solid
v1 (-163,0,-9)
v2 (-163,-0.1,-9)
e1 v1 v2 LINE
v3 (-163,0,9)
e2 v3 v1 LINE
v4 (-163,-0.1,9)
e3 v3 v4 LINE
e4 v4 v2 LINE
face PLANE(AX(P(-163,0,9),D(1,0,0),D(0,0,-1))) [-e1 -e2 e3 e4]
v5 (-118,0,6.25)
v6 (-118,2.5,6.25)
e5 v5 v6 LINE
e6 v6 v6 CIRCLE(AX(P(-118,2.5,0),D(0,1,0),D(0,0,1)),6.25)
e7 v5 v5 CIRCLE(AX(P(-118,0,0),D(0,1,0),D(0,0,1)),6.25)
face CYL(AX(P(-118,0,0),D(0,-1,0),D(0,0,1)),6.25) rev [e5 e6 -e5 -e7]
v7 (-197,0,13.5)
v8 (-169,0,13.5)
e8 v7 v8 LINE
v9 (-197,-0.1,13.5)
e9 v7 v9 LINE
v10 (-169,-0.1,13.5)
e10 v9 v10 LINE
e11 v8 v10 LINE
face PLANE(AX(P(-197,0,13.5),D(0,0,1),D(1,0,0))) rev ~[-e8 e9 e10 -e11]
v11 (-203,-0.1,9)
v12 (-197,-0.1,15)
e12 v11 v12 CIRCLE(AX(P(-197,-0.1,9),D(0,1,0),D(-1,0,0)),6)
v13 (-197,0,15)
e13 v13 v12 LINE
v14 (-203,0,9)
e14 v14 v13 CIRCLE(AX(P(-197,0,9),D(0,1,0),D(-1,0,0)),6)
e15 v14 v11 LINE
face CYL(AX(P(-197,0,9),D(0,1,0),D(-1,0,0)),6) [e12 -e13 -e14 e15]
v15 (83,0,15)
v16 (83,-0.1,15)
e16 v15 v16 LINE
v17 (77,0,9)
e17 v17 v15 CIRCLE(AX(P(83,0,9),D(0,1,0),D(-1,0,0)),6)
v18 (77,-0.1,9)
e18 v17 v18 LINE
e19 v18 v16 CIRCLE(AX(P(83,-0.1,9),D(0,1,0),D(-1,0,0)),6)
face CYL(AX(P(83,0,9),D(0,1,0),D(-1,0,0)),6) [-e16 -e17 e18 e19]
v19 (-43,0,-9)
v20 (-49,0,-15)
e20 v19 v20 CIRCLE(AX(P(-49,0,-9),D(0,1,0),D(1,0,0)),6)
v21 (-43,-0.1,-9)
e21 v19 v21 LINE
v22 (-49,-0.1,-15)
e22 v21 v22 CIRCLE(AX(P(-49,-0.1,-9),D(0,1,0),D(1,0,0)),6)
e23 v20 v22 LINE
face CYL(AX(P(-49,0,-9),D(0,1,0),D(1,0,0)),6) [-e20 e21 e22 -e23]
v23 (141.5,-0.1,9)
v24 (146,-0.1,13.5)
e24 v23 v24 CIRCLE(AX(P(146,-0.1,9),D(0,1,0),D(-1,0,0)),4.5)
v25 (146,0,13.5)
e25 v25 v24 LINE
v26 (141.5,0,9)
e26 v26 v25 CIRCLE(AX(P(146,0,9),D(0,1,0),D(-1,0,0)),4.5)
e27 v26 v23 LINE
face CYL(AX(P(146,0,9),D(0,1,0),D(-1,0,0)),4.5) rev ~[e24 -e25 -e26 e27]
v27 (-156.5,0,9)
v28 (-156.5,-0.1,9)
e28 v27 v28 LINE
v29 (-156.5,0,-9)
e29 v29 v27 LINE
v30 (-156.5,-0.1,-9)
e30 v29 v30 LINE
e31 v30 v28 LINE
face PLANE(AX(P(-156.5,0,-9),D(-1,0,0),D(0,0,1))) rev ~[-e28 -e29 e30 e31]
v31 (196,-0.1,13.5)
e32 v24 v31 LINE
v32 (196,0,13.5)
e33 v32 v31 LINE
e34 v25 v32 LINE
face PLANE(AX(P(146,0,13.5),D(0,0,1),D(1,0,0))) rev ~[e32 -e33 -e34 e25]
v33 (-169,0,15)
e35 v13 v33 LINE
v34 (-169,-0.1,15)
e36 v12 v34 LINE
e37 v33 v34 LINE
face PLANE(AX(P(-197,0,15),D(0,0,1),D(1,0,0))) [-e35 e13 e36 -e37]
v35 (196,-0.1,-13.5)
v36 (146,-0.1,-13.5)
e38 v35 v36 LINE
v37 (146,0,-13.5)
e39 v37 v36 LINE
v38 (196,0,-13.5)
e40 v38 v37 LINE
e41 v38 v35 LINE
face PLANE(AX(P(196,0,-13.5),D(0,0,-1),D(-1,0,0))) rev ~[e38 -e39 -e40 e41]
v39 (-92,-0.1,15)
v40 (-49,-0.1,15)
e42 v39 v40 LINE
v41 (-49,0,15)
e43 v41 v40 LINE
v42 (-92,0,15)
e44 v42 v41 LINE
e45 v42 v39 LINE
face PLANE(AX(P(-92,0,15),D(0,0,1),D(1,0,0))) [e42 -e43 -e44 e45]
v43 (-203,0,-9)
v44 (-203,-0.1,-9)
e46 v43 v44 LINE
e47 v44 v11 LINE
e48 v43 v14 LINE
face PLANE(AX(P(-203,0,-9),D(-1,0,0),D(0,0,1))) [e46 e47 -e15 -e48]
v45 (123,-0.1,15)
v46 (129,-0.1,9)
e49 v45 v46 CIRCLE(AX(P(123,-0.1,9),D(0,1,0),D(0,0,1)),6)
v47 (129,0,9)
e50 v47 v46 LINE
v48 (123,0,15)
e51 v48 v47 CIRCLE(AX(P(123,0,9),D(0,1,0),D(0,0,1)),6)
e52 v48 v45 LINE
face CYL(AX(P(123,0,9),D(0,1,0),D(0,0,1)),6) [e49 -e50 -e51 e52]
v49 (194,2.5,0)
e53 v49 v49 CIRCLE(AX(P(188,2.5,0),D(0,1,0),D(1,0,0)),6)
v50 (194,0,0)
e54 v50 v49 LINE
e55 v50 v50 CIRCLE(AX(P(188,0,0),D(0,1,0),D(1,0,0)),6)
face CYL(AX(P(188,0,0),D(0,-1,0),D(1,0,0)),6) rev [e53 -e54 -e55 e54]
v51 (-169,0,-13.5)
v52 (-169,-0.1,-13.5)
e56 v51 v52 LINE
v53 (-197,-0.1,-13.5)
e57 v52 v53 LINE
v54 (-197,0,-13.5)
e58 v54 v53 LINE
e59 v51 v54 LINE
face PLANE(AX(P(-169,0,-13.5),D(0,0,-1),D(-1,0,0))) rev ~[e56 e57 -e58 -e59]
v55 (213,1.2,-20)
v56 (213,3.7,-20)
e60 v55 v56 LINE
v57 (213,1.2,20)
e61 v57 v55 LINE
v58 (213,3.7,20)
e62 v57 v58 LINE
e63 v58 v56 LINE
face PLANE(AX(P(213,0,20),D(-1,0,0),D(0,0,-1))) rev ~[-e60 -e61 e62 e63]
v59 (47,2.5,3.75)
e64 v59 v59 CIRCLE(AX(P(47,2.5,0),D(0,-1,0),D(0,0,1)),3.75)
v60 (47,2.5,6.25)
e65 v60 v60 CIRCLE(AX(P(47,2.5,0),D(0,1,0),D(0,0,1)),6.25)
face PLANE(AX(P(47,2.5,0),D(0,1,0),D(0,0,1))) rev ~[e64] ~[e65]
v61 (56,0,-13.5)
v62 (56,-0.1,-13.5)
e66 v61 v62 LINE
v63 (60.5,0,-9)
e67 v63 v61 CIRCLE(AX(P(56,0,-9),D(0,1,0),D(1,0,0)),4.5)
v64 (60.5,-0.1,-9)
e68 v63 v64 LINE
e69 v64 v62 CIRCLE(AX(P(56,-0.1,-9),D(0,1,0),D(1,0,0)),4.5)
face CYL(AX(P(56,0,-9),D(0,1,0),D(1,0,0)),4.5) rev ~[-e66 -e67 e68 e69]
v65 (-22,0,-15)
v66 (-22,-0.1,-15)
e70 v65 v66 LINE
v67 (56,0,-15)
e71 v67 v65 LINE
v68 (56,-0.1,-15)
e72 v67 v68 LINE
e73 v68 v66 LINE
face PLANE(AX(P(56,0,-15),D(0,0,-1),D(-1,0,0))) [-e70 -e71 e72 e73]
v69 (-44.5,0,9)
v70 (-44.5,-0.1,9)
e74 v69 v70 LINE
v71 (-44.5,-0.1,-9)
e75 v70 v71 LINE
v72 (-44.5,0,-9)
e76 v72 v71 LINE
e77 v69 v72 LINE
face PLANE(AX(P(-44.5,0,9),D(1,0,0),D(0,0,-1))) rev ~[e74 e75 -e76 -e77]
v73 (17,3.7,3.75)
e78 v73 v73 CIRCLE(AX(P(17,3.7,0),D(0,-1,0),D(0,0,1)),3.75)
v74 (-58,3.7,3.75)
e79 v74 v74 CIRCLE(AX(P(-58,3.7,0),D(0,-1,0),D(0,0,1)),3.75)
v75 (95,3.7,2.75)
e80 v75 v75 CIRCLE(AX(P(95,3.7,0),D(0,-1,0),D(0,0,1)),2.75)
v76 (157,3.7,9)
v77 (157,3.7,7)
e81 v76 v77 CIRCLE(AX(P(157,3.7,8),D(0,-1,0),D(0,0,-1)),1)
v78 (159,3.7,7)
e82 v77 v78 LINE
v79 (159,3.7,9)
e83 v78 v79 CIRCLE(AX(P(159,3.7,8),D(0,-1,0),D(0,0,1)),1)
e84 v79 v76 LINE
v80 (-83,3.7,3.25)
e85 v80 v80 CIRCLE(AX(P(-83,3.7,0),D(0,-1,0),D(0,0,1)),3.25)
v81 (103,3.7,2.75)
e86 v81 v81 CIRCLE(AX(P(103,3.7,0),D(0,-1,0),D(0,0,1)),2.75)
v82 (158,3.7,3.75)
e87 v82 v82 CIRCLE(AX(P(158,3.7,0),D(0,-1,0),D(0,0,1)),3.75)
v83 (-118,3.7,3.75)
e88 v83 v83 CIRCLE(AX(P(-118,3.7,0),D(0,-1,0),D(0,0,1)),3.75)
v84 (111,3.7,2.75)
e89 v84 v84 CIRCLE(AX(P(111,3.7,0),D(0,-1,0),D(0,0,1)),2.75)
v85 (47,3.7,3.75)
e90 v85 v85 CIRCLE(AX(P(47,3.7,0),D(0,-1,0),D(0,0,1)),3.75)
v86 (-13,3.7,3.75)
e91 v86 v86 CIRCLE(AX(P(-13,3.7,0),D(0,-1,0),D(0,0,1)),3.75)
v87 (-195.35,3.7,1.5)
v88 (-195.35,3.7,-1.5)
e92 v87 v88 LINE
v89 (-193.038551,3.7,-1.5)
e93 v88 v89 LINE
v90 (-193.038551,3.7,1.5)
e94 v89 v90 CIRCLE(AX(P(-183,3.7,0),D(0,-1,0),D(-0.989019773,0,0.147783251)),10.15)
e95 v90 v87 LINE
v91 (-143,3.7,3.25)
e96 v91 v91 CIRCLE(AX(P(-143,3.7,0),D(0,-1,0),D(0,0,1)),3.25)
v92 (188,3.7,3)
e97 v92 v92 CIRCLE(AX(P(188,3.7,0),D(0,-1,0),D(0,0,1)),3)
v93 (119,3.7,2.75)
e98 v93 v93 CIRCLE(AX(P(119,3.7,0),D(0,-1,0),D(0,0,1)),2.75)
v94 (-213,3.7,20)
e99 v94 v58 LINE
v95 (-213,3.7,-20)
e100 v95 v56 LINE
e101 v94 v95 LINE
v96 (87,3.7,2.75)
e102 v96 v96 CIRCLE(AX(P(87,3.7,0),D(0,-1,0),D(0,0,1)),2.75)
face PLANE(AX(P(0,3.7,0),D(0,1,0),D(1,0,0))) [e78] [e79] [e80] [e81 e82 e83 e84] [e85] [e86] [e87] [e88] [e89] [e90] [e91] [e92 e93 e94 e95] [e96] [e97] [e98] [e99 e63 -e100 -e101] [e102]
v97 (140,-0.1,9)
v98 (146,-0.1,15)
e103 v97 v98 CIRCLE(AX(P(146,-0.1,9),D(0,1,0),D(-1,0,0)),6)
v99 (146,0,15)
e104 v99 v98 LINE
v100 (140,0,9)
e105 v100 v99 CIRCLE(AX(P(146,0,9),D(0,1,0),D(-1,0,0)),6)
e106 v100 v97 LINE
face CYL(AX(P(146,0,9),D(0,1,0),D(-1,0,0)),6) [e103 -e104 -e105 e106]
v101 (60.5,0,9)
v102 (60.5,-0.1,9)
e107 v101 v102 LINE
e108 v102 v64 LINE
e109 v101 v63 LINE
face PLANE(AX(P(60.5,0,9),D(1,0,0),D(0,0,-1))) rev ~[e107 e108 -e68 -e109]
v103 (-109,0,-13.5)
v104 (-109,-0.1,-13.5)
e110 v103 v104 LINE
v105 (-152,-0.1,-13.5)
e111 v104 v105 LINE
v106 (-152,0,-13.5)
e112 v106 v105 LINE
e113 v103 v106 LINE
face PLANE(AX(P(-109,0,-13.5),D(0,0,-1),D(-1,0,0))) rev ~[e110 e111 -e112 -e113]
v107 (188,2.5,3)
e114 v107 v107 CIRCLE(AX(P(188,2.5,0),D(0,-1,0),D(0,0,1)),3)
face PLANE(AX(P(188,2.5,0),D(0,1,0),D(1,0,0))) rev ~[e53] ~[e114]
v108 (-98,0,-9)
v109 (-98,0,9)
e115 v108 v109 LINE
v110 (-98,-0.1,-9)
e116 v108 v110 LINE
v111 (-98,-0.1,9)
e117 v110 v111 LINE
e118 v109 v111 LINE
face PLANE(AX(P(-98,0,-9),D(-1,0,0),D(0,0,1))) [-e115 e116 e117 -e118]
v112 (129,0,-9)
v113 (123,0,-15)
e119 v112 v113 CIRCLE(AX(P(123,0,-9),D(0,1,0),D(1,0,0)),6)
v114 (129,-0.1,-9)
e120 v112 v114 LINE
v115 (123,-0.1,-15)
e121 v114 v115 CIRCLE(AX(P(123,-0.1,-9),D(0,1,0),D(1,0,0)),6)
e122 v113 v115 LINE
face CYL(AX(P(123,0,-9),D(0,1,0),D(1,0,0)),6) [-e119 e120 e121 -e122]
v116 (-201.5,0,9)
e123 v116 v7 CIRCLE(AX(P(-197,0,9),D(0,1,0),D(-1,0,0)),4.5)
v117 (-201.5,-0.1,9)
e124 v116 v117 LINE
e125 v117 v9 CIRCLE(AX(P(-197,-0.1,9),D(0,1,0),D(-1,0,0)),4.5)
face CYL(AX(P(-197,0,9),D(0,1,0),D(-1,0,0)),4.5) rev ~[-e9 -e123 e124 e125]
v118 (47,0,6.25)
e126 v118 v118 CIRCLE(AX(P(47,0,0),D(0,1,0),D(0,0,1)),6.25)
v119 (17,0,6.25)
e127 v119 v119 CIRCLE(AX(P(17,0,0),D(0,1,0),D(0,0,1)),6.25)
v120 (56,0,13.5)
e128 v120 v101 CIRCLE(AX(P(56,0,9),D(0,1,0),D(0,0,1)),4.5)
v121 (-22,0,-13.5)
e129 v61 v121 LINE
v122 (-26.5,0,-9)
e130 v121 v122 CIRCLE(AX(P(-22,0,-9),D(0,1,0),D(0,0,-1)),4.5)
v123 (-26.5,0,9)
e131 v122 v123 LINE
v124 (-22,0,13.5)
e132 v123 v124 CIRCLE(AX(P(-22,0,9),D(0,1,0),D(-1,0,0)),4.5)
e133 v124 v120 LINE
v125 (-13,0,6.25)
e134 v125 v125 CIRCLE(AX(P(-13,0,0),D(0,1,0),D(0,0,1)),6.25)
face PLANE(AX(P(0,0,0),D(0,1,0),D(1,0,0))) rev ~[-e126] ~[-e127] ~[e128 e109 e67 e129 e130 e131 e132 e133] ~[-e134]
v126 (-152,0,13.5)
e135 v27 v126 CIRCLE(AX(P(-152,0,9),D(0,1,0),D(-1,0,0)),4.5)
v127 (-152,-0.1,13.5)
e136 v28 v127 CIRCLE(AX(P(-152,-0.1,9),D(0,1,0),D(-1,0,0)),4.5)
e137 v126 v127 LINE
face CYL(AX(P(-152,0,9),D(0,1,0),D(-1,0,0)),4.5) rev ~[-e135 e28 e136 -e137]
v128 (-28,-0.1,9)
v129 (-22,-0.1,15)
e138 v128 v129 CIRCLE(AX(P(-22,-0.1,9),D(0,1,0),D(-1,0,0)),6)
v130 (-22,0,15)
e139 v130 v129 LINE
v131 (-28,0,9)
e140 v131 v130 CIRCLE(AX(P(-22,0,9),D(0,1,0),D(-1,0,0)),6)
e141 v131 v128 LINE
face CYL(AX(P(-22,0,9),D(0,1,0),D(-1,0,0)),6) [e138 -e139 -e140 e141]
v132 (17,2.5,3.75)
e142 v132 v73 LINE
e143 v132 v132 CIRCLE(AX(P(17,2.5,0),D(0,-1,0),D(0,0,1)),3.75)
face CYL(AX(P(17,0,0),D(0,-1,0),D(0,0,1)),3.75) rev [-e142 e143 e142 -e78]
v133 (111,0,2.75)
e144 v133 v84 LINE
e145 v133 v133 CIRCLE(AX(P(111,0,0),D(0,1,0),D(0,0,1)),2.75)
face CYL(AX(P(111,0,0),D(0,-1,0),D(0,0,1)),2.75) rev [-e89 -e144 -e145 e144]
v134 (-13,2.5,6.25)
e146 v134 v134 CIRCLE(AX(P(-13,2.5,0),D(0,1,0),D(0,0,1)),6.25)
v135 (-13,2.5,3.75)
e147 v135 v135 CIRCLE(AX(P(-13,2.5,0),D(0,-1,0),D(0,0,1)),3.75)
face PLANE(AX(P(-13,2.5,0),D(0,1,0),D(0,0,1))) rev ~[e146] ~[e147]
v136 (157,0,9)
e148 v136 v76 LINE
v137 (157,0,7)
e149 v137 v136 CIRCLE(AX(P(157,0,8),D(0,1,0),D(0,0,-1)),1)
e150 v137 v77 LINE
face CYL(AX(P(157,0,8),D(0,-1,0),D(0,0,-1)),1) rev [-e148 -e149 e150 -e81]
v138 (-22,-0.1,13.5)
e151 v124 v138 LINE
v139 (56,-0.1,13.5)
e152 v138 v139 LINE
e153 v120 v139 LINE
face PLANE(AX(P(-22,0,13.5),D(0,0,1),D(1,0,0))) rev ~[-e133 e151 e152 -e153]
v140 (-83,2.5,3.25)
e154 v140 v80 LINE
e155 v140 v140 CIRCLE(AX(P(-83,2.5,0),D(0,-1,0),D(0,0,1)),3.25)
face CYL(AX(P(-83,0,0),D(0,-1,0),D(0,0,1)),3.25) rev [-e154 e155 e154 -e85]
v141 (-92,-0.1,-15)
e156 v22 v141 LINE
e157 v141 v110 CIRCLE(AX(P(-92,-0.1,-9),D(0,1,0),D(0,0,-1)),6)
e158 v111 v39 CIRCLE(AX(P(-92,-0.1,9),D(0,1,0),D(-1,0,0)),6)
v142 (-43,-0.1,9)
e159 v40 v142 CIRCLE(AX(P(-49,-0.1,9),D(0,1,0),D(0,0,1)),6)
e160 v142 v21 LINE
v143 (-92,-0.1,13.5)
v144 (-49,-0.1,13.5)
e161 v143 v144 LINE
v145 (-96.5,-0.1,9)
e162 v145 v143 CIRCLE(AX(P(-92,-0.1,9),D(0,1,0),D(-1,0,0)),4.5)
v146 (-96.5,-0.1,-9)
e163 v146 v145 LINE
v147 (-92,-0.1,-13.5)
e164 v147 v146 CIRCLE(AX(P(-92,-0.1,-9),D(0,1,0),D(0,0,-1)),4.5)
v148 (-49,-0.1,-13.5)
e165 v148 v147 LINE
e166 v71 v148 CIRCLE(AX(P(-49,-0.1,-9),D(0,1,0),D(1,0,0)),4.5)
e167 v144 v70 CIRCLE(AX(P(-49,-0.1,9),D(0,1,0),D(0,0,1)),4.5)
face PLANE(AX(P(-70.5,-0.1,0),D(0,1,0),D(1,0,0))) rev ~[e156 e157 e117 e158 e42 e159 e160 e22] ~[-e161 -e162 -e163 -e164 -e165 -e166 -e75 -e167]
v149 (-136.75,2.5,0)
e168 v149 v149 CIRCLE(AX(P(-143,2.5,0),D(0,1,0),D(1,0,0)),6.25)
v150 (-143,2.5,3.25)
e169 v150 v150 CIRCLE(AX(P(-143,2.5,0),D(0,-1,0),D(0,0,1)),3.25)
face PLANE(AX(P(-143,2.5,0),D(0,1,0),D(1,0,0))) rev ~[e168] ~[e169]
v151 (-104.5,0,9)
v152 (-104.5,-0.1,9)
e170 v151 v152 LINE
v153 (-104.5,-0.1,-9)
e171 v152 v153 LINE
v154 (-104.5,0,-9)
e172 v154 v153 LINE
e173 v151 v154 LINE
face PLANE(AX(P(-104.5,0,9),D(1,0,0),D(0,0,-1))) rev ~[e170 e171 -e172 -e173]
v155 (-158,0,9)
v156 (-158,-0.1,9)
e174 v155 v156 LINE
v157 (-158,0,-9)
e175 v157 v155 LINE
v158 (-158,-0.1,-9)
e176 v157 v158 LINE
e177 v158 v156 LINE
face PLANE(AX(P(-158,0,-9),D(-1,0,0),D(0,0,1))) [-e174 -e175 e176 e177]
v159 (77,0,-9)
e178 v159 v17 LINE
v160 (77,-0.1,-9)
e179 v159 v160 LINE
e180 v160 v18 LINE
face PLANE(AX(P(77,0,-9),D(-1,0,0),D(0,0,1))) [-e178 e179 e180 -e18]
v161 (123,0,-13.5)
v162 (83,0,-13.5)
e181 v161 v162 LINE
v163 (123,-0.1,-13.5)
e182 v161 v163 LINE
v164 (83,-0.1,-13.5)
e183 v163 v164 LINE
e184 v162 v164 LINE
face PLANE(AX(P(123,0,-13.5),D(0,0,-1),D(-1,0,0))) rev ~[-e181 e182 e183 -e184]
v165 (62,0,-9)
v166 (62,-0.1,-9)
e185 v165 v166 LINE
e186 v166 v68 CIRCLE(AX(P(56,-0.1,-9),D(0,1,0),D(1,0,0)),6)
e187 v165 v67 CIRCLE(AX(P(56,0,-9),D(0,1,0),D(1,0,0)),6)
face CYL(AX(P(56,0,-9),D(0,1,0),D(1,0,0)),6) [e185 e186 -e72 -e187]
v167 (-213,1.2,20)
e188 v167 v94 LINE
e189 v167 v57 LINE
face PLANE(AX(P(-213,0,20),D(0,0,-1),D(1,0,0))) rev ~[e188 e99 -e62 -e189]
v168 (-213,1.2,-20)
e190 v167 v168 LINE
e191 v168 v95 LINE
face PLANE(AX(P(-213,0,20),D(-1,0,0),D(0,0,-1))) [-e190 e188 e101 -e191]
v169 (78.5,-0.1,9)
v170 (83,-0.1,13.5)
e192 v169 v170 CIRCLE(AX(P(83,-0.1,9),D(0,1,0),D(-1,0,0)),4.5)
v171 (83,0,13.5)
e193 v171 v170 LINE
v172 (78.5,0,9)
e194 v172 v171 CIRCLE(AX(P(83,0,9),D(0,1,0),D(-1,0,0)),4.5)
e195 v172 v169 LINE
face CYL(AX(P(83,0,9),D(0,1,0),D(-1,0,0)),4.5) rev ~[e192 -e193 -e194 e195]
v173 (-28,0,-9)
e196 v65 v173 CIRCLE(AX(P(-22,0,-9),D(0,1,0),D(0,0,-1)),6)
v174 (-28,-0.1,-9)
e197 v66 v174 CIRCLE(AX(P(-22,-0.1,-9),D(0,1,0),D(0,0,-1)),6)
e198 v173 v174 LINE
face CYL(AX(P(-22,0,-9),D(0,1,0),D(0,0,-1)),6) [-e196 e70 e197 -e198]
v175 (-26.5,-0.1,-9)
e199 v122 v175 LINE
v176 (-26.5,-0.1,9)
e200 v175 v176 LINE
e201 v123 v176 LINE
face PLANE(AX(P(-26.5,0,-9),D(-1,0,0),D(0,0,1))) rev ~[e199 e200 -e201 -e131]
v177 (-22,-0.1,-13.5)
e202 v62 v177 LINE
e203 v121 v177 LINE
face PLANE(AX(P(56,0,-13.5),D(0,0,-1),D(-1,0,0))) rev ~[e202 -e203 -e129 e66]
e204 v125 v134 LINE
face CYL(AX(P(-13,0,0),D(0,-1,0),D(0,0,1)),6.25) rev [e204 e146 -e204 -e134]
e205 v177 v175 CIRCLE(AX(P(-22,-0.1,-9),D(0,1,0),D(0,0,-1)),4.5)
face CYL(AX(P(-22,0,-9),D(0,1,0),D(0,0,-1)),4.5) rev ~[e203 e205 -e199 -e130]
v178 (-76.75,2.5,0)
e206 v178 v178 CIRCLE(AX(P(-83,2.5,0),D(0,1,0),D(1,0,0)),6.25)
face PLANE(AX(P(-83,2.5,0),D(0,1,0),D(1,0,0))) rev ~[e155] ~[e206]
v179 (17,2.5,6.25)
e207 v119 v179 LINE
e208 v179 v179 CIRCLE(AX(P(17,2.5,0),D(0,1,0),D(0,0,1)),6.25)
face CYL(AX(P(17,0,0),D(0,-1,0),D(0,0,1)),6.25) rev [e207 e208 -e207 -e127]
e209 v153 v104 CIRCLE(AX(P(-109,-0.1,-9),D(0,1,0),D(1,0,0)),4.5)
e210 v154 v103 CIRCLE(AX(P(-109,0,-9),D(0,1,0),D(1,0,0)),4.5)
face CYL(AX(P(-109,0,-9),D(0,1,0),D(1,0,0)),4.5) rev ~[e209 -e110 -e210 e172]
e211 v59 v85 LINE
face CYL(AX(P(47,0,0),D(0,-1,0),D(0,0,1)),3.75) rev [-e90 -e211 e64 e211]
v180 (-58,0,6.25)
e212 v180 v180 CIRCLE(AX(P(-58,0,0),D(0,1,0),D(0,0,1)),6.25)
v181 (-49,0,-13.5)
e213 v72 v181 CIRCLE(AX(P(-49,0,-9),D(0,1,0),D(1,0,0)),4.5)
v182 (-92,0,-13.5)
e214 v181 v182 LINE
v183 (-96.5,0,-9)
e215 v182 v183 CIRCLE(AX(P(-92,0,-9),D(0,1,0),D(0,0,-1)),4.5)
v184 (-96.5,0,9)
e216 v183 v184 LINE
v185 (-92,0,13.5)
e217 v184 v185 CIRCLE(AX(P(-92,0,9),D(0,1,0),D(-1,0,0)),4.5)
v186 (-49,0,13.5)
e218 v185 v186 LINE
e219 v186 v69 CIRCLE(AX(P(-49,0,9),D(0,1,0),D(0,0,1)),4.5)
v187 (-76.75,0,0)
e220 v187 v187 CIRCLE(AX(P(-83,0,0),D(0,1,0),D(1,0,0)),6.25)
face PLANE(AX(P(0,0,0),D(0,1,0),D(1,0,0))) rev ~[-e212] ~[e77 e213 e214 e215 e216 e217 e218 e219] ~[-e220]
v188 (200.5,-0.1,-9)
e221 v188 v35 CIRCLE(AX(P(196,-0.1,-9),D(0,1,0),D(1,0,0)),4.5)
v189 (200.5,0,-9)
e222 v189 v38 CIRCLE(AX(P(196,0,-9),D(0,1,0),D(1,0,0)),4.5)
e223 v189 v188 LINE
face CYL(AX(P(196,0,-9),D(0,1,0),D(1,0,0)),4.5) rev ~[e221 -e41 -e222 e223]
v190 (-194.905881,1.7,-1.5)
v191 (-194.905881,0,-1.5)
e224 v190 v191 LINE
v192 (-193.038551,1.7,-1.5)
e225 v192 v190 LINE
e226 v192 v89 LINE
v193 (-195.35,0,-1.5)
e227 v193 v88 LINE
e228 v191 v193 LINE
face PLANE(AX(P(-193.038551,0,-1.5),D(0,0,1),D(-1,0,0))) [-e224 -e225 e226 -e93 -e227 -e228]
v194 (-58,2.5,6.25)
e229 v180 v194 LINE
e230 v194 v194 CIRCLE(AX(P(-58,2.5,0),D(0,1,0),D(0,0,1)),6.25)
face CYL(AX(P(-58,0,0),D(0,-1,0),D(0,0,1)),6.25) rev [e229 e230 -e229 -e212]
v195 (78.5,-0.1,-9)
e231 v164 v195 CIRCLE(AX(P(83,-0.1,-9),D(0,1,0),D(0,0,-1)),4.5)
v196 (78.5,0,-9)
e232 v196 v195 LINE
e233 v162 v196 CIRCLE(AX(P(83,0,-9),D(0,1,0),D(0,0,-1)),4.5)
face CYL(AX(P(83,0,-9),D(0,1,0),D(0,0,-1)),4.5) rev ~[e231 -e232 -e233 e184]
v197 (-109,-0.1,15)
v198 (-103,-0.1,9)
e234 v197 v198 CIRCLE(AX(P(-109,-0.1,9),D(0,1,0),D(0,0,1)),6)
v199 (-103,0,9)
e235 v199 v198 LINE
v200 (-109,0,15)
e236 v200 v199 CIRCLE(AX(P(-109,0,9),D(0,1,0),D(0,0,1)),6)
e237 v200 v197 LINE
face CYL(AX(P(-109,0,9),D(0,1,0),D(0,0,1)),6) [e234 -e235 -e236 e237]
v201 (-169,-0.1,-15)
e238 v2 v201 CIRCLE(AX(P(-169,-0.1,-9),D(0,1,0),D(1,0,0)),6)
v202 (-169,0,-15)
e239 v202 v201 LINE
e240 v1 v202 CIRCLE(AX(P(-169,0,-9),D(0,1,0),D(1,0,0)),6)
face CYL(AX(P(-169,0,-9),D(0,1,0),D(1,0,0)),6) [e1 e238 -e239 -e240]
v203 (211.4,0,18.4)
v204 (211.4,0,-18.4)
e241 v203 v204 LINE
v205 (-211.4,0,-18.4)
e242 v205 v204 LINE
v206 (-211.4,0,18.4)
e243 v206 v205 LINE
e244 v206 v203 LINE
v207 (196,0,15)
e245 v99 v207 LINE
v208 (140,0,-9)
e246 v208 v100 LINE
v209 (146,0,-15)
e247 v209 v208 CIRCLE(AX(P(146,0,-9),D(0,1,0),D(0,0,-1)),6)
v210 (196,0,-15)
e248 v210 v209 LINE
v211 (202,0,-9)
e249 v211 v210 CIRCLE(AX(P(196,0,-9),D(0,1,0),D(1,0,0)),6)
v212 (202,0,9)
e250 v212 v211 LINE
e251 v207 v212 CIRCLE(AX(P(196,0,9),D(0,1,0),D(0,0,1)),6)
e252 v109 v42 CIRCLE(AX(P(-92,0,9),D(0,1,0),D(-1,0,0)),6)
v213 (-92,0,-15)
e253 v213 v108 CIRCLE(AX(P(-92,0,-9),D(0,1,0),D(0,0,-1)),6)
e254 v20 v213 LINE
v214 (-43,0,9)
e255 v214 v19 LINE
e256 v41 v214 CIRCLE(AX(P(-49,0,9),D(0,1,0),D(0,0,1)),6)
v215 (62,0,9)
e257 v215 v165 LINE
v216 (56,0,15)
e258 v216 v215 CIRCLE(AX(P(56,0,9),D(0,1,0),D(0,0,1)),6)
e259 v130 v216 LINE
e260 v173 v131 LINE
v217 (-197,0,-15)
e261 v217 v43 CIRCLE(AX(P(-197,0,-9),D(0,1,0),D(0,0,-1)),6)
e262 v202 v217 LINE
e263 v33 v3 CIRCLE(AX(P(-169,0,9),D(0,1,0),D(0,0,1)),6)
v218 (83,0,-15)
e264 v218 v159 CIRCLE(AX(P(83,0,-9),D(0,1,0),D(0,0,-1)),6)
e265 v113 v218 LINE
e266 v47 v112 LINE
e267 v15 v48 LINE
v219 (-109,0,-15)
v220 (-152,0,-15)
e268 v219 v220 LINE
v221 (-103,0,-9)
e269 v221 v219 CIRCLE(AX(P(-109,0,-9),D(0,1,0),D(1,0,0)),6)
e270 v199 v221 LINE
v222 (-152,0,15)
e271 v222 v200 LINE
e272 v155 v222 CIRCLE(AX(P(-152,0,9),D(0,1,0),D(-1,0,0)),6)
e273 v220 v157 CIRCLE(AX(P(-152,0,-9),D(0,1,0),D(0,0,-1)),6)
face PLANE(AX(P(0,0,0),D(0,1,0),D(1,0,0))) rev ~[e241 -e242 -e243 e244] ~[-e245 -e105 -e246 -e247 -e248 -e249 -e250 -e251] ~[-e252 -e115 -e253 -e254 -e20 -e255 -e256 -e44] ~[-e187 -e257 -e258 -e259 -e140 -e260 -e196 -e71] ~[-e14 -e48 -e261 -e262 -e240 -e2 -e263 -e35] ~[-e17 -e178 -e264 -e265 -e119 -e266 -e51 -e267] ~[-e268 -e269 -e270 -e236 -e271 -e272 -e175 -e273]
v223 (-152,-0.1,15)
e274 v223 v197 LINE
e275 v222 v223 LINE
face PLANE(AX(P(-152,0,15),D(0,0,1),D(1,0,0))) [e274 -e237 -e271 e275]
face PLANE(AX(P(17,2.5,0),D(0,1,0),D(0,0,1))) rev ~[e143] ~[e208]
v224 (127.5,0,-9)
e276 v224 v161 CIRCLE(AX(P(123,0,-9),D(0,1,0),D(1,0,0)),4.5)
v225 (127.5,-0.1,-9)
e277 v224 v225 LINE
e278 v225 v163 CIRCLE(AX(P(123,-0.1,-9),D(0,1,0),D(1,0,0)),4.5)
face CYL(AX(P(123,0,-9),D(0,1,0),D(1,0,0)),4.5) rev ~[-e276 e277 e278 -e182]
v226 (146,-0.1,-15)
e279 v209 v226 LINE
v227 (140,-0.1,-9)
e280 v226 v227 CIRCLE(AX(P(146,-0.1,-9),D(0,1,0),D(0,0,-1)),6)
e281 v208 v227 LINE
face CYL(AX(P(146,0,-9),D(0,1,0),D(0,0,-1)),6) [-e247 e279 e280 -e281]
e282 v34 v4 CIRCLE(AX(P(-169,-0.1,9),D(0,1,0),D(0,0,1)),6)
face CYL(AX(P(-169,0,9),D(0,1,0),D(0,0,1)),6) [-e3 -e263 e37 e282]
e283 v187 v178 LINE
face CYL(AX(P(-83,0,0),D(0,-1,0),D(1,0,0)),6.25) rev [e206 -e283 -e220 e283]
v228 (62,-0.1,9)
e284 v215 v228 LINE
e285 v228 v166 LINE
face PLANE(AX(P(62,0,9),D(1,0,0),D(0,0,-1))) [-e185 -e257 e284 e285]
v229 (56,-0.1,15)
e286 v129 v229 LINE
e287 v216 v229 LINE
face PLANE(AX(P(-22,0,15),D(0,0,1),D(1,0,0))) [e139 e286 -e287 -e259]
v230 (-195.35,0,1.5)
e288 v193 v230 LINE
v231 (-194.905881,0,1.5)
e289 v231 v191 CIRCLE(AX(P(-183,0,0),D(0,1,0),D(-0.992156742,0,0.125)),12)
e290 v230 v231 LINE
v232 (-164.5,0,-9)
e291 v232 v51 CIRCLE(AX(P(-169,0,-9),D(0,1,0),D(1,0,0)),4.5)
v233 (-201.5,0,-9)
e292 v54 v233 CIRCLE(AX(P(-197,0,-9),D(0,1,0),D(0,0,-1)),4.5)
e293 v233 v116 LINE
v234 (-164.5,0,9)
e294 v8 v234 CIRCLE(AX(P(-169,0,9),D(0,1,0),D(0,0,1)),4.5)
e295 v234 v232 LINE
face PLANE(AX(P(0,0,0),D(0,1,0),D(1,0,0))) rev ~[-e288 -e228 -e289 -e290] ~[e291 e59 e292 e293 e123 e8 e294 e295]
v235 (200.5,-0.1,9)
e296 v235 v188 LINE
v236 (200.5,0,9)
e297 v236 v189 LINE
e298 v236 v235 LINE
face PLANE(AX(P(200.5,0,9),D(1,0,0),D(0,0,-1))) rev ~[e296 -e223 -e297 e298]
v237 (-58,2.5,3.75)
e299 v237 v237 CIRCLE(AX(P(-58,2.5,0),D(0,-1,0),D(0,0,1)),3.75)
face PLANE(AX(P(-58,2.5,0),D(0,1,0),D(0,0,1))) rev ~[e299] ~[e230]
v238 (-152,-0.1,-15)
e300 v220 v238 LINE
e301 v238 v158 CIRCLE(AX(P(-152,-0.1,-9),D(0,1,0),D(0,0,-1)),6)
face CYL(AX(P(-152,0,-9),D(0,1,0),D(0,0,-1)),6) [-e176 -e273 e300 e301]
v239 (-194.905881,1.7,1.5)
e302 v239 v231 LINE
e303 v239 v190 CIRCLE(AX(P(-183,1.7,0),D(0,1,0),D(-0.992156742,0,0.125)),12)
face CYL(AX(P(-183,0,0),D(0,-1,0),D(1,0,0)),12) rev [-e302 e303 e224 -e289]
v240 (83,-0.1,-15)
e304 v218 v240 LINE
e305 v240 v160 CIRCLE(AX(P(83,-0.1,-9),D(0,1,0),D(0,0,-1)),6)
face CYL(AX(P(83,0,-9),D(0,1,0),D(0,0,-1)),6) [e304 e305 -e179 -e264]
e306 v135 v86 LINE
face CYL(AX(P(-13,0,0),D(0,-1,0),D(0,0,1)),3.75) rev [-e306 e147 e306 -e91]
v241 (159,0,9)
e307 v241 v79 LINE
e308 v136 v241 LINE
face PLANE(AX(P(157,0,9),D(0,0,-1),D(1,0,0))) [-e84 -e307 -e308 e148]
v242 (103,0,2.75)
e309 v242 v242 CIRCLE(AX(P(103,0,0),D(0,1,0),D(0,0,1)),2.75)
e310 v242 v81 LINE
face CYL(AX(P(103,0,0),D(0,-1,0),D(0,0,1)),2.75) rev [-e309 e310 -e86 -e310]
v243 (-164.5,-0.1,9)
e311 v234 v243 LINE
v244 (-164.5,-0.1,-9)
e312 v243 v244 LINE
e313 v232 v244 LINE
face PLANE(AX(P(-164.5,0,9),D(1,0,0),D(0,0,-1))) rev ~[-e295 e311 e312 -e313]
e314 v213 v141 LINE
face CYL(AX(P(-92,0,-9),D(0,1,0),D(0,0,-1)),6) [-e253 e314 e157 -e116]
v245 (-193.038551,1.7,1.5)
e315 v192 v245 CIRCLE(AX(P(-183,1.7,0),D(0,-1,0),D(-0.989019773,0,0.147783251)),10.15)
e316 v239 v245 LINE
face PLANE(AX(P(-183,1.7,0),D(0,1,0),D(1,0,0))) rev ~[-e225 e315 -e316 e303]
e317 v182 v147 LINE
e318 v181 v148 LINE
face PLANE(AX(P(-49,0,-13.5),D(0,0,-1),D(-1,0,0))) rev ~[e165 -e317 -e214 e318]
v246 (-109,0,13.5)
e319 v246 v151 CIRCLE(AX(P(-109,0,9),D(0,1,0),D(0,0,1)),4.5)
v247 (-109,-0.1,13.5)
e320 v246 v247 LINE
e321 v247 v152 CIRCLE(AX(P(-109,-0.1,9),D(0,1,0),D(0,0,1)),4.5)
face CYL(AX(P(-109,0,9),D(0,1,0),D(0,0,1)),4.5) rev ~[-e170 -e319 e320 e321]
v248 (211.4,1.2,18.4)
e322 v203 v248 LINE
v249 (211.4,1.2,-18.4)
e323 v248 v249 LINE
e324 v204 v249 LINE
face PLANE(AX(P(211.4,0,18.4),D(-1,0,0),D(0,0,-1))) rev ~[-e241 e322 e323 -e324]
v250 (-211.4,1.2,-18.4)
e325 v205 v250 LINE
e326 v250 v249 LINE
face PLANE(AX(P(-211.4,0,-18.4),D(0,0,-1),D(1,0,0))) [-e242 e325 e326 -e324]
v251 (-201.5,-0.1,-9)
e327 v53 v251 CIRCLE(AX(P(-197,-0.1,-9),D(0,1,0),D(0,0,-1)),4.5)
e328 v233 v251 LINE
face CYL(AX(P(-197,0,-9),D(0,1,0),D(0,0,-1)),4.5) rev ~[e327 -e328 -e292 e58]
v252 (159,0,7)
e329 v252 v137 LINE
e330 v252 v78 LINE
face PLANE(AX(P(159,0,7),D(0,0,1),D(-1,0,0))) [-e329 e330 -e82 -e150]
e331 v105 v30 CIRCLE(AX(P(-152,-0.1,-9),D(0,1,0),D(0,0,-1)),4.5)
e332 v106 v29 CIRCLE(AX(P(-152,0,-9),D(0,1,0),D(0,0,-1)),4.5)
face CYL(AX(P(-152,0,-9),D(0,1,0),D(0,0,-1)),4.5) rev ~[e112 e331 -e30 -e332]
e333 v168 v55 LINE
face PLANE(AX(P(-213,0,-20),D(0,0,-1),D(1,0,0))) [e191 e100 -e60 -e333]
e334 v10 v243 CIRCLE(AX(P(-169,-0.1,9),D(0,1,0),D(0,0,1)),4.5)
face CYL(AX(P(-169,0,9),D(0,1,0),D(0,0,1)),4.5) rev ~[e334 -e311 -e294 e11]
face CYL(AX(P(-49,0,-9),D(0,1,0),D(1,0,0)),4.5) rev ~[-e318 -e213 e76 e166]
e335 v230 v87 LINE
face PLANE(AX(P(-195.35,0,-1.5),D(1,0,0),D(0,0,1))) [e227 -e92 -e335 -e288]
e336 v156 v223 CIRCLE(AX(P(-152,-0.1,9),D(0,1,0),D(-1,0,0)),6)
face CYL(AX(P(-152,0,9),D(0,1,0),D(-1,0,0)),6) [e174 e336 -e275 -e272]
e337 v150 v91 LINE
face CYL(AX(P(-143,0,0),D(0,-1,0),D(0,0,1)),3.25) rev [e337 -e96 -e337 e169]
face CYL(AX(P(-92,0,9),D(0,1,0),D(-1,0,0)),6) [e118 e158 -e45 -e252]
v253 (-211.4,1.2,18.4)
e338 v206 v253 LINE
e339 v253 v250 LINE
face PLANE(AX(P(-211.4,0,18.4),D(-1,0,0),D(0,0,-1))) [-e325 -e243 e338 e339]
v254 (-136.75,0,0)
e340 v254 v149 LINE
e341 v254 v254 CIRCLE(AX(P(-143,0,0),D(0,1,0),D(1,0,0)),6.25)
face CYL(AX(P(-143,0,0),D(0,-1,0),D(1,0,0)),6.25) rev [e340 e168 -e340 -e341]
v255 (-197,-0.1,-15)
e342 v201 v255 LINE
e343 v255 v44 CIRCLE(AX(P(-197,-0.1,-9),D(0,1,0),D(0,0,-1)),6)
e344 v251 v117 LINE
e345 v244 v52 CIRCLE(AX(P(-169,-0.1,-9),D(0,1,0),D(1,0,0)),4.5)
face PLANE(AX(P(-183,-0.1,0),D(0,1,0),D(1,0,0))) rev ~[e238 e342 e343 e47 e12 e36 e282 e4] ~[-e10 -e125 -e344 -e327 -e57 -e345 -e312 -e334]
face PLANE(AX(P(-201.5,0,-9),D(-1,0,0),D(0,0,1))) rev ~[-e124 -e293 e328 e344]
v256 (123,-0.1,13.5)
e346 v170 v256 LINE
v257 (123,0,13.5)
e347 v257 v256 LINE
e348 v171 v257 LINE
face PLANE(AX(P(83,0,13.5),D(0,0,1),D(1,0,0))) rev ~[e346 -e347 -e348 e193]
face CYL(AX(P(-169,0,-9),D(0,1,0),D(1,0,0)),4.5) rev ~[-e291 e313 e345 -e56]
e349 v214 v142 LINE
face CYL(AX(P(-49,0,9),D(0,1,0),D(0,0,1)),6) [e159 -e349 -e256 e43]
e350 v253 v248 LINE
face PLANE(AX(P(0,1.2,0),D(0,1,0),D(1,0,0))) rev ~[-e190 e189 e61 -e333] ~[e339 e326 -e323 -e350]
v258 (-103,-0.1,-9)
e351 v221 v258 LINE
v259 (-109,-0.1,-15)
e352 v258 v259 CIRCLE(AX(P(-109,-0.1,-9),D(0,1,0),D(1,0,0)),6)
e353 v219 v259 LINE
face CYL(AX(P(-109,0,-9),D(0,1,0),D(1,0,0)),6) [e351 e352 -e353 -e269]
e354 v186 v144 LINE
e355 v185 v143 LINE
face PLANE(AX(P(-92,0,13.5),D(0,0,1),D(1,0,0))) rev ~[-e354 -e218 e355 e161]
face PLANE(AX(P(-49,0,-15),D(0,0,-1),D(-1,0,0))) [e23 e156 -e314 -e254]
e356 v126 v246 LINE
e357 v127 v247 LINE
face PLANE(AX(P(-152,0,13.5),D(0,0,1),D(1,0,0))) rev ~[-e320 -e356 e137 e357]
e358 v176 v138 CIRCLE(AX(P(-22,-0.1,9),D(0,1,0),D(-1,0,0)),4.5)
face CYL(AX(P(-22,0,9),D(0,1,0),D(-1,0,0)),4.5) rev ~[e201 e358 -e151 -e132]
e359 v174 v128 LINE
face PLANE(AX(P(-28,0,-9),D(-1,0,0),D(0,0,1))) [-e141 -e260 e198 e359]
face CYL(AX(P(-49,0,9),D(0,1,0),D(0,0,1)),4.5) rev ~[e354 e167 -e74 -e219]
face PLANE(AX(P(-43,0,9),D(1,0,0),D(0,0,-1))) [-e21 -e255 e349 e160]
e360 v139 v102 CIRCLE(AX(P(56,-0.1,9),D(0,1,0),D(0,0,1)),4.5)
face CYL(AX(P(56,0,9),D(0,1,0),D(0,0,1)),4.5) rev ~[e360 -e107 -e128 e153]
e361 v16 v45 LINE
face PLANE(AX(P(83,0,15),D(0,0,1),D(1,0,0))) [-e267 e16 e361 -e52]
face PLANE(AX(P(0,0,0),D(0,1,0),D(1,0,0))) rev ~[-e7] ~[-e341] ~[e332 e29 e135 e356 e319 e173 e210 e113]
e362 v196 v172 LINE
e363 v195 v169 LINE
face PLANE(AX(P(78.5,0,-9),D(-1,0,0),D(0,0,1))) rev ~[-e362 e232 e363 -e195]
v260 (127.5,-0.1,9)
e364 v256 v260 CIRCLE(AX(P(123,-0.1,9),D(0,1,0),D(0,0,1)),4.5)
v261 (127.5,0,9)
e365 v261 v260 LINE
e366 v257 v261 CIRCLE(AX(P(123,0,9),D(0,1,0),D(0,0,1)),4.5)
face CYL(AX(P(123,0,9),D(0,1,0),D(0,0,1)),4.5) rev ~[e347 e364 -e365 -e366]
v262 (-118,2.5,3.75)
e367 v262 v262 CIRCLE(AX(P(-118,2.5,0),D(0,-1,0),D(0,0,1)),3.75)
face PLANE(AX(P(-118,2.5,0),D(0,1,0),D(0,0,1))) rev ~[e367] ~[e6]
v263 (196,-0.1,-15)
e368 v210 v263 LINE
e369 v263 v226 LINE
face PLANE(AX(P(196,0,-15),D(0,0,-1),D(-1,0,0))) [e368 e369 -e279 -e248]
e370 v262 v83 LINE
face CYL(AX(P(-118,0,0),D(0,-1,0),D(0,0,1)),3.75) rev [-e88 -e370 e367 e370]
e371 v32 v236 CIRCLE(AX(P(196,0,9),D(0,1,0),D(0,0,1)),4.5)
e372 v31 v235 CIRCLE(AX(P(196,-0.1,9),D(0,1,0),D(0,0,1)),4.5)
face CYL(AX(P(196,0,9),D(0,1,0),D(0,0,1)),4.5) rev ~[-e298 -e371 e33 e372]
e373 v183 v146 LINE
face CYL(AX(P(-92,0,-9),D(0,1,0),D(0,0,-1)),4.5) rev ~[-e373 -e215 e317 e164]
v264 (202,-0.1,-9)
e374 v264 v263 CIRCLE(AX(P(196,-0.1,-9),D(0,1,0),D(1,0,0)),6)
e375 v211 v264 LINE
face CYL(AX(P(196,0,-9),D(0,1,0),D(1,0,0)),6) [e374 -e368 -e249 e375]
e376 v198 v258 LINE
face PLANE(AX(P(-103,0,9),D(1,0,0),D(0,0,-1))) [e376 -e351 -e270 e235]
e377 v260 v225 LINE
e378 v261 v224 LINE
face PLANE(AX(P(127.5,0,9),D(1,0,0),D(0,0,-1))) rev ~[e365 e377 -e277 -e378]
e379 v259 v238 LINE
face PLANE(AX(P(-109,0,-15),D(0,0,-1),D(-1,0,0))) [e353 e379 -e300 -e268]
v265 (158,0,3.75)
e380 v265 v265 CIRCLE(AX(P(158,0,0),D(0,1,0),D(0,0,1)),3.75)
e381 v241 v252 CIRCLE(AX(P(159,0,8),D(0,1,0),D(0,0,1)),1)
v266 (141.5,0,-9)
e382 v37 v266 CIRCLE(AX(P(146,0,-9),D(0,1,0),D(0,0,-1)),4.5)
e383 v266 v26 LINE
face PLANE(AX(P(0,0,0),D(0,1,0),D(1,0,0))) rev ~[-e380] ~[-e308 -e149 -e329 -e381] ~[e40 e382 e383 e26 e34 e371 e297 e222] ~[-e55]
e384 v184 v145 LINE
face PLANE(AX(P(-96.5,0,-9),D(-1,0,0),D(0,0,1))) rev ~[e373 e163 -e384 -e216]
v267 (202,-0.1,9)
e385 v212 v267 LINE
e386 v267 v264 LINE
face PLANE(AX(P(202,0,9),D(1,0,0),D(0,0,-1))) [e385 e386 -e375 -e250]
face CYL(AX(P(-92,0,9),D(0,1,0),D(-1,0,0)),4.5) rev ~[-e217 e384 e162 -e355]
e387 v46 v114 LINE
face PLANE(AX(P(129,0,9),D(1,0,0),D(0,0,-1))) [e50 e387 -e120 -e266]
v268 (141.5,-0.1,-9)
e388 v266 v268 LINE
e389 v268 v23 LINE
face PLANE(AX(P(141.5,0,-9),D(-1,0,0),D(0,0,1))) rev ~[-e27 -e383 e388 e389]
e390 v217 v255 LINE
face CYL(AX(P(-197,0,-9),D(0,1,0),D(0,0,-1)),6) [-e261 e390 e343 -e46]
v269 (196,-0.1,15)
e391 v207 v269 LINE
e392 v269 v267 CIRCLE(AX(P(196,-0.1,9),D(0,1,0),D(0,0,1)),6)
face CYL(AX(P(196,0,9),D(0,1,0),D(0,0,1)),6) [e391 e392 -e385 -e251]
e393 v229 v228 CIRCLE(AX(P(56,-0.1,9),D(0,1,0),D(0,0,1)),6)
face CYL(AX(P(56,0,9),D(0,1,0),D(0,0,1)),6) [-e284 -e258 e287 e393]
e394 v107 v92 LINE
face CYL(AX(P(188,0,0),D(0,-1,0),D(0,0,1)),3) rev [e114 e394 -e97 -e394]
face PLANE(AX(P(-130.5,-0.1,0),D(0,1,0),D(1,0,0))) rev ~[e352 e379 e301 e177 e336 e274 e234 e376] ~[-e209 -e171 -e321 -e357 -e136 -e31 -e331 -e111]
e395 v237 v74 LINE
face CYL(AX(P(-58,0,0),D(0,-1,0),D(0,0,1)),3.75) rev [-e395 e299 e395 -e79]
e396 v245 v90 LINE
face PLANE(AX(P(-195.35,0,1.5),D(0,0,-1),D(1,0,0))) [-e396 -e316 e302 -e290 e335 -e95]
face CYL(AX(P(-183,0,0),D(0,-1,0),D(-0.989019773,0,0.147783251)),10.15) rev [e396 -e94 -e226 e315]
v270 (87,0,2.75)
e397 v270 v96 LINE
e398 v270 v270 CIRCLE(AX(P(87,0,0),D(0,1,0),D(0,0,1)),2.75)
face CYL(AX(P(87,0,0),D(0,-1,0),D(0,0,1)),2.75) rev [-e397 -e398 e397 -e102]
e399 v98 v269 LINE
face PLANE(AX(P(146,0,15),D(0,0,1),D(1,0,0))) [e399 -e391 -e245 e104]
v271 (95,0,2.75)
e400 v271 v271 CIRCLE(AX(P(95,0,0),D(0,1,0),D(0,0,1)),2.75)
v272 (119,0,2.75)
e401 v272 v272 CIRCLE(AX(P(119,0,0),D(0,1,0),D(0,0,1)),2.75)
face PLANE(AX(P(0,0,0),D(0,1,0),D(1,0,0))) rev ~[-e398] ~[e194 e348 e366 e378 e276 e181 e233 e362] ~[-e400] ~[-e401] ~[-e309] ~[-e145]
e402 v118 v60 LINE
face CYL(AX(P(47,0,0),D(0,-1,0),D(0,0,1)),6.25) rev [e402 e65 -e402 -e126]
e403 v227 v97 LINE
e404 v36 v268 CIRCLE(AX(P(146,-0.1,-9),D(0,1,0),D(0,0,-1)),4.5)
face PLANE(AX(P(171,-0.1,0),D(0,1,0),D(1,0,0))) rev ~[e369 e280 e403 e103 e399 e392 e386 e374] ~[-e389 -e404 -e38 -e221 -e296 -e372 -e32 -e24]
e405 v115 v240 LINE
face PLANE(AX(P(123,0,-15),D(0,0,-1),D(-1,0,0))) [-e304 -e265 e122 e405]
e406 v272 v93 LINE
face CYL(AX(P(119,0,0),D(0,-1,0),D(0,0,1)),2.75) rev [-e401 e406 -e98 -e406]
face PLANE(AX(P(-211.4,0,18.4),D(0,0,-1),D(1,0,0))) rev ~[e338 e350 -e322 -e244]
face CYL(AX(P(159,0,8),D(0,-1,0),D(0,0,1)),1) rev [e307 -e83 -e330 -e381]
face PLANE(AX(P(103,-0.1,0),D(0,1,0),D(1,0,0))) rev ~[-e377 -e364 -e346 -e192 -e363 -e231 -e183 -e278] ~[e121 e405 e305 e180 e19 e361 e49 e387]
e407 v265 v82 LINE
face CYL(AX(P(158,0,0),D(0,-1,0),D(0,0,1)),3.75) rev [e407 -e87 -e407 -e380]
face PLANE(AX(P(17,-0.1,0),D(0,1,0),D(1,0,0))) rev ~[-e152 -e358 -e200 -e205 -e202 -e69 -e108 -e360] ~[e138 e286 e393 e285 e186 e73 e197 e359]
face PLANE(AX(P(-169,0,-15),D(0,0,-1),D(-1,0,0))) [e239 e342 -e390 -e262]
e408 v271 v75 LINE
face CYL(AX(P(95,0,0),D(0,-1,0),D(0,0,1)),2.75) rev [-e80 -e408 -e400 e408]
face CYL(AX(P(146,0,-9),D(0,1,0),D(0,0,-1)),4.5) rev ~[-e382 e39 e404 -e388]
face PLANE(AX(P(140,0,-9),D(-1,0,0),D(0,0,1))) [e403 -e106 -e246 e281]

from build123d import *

# Parameters (mm, degrees)
SKETCH_1_W            = 426
SKETCH_1_H            = 40
EXTRUDE_1_DEPTH       = 3.7
SKETCH_1_2_W          = 426
SKETCH_1_2_H          = 40
SKETCH_1_2_W_2        = 422.8
SKETCH_1_2_H_2        = 36.8
CUT_EXTRUDE_1_DEPTH   = 1.2
SKETCH_2_R            = 10.15
SKETCH_2_R_2          = 3.25
SKETCH_2_R_3          = 3.75
SKETCH_2_R_4          = 2.75
SKETCH_2_R_5          = 3
CUT_EXTRUDE_1_2_DEPTH = 10
SKETCH_4_R            = 12
CUT_EXTRUDE_2_DEPTH   = 1.7
SKETCH_2_3_R          = 6
SKETCH_2_3_R_2        = 3
SKETCH_2_3_R_3        = 6.25
SKETCH_2_3_R_4        = 3.25
CUT_EXTRUDE_2_2_DEPTH = 2.5
EXTRUDE_2_DEPTH       = 0.1
SKETCH_2_5_R          = 6.25
CUT_EXTRUDE_3_DEPTH   = 2.5


with BuildPart() as part:
    # Эскиз1 → Бобышка-Вытянуть1 (new body)
    with BuildSketch(Plane(origin=(0, 0, 0), x_dir=(1, 0, 0), z_dir=(0, 1, 0))):
        Rectangle(SKETCH_1_W, SKETCH_1_H)
    extrude(amount=EXTRUDE_1_DEPTH)

    # Эскиз1<2> → Cut-Extrude 1 (cut)
    with BuildSketch(Plane(origin=(0, 0, 0), x_dir=(1, 0, 0), z_dir=(0, 1, 0))):
        Rectangle(SKETCH_1_2_W, SKETCH_1_2_H)
        Rectangle(SKETCH_1_2_W_2, SKETCH_1_2_H_2, mode=Mode.SUBTRACT)
    extrude(amount=CUT_EXTRUDE_1_DEPTH, mode=Mode.SUBTRACT)

    # Эскиз2 → Cut-Extrude 1 2 (cut)
    with BuildSketch(Plane(origin=(0, 0, 0), x_dir=(1, 0, 0), z_dir=(0, 1, 0))):
        with Locations((-183, 0)):
            Circle(SKETCH_2_R)
        with BuildLine():
            Line((-195.35, -1.5), (-193.038550692, -1.5))
            ThreePointArc((-193.038550692, -1.5), (-193.15, 0), (-193.038550692, 1.5))
            Line((-193.038550692, 1.5), (-195.35, 1.5))
            Line((-195.35, 1.5), (-195.35, -1.5))
        make_face()
        with Locations(Location((-143, 0, 0), (0, 0, 270))):
            Circle(SKETCH_2_R_2)
        with Locations(Location((-118, 0, 0), (0, 0, 270))):
            Circle(SKETCH_2_R_3)
        with Locations(Location((-83, 0, 0), (0, 0, 270))):
            Circle(SKETCH_2_R_2)
        with Locations(Location((-58, 0, 0), (0, 0, 270))):
            Circle(SKETCH_2_R_3)
        with Locations(Location((-13, 0, 0), (0, 0, 270))):
            Circle(SKETCH_2_R_3)
        with Locations(Location((17, 0, 0), (0, 0, 270))):
            Circle(SKETCH_2_R_3)
        with Locations(Location((47, 0, 0), (0, 0, 270))):
            Circle(SKETCH_2_R_3)
        with Locations(Location((95, 0, 0), (0, 0, 270))):
            Circle(SKETCH_2_R_4)
        with Locations(Location((103, 0, 0), (0, 0, 270))):
            Circle(SKETCH_2_R_4)
        with Locations(Location((119, 0, 0), (0, 0, 270))):
            Circle(SKETCH_2_R_4)
        with Locations(Location((188, 0, 0), (0, 0, 270))):
            Circle(SKETCH_2_R_5)
        with BuildLine():
            Line((157, -9), (159, -9))
            ThreePointArc((159, -9), (160, -8), (159, -7))
            Line((159, -7), (157, -7))
            ThreePointArc((157, -7), (156, -8), (157, -9))
        make_face()
        with Locations(Location((87, 0, 0), (0, 0, 270))):
            Circle(SKETCH_2_R_4)
        with Locations(Location((111, 0, 0), (0, 0, 270))):
            Circle(SKETCH_2_R_4)
        with Locations(Location((158, 0, 0), (0, 0, 270))):
            Circle(SKETCH_2_R_3)
    extrude(amount=CUT_EXTRUDE_1_2_DEPTH, mode=Mode.SUBTRACT)

    # Эскиз4 → Cut-Extrude 2 (cut)
    with BuildSketch(Plane(origin=(0, 0, 0), x_dir=(1, 0, 0), z_dir=(0, 1, 0))):
        with Locations((-183, 0)):
            Circle(SKETCH_4_R)
    extrude(amount=CUT_EXTRUDE_2_DEPTH, mode=Mode.SUBTRACT)

    # Эскиз2<3> → Cut-Extrude 2 2 (cut)
    # profile 1 of 3: a face of its own
    with BuildSketch(Plane(origin=(0, 0, 0), x_dir=(1, 0, 0), z_dir=(0, 1, 0))):
        with Locations((188, 0)):
            Circle(SKETCH_2_3_R)
        with Locations((188, 0)):
            Circle(SKETCH_2_3_R_2, mode=Mode.SUBTRACT)
    # profile 2 of 3: a face of its own
    with BuildSketch(Plane(origin=(0, 0, 0), x_dir=(1, 0, 0), z_dir=(0, 1, 0))):
        with Locations((-83, 0)):
            Circle(SKETCH_2_3_R_3)
        with Locations((-83, 0)):
            Circle(SKETCH_2_3_R_4, mode=Mode.SUBTRACT)
    # profile 3 of 3: a face of its own
    with BuildSketch(Plane(origin=(0, 0, 0), x_dir=(1, 0, 0), z_dir=(0, 1, 0))):
        with Locations((-143, 0)):
            Circle(SKETCH_2_3_R_3)
        with Locations((-143, 0)):
            Circle(SKETCH_2_3_R_4, mode=Mode.SUBTRACT)
    extrude(amount=CUT_EXTRUDE_2_2_DEPTH, mode=Mode.SUBTRACT)

    # Эскиз3 → Бобышка-Вытянуть2 (add)
    # profile 1 of 6: a face of its own
    with BuildSketch(Plane(origin=(0, 0, 0), x_dir=(1, 0, 0), z_dir=(0, 1, 0))):
        with BuildLine():
            Line((-152, -15), (-109, -15))
            ThreePointArc((-109, -15), (-104.757359313, -13.242640687), (-103, -9))
            Line((-103, -9), (-103, 9))
            ThreePointArc((-103, 9), (-104.757359313, 13.242640687), (-109, 15))
            Line((-109, 15), (-152, 15))
            ThreePointArc((-152, 15), (-156.242640687, 13.242640687), (-158, 9))
            Line((-158, 9), (-158, -9))
            ThreePointArc((-158, -9), (-156.242640687, -13.242640687), (-152, -15))
        make_face()
        with BuildLine():
            Line((-152, -13.5), (-109, -13.5))
            ThreePointArc((-109, -13.5), (-105.818019485, -12.181980515), (-104.5, -9))
            Line((-104.5, -9), (-104.5, 9))
            ThreePointArc((-104.5, 9), (-105.818019485, 12.181980515), (-109, 13.5))
            Line((-109, 13.5), (-152, 13.5))
            ThreePointArc((-152, 13.5), (-155.181980515, 12.181980515), (-156.5, 9))
            Line((-156.5, 9), (-156.5, -9))
            ThreePointArc((-156.5, -9), (-155.181980515, -12.181980515), (-152, -13.5))
        make_face(mode=Mode.SUBTRACT)
    # profile 2 of 6: a face of its own
    with BuildSketch(Plane(origin=(0, 0, 0), x_dir=(1, 0, 0), z_dir=(0, 1, 0))):
        with BuildLine():
            Line((-22, -15), (56, -15))
            ThreePointArc((56, -15), (60.242640687, -13.242640687), (62, -9))
            Line((62, -9), (62, 9))
            ThreePointArc((62, 9), (60.242640687, 13.242640687), (56, 15))
            Line((56, 15), (-22, 15))
            ThreePointArc((-22, 15), (-26.242640687, 13.242640687), (-28, 9))
            Line((-28, 9), (-28, -9))
            ThreePointArc((-28, -9), (-26.242640687, -13.242640687), (-22, -15))
        make_face()
        with BuildLine():
            Line((-22, -13.5), (56, -13.5))
            ThreePointArc((56, -13.5), (59.181980515, -12.181980515), (60.5, -9))
            Line((60.5, -9), (60.5, 9))
            ThreePointArc((60.5, 9), (59.181980515, 12.181980515), (56, 13.5))
            Line((56, 13.5), (-22, 13.5))
            ThreePointArc((-22, 13.5), (-25.181980515, 12.181980515), (-26.5, 9))
            Line((-26.5, 9), (-26.5, -9))
            ThreePointArc((-26.5, -9), (-25.181980515, -12.181980515), (-22, -13.5))
        make_face(mode=Mode.SUBTRACT)
    # profile 3 of 6: a face of its own
    with BuildSketch(Plane(origin=(0, 0, 0), x_dir=(1, 0, 0), z_dir=(0, 1, 0))):
        with BuildLine():
            Line((83, -15), (123, -15))
            ThreePointArc((123, -15), (127.242640687, -13.242640687), (129, -9))
            Line((129, -9), (129, 9))
            ThreePointArc((129, 9), (127.242640687, 13.242640687), (123, 15))
            Line((123, 15), (83, 15))
            ThreePointArc((83, 15), (78.757359313, 13.242640687), (77, 9))
            Line((77, 9), (77, -9))
            ThreePointArc((77, -9), (78.757359313, -13.242640687), (83, -15))
        make_face()
        with BuildLine():
            Line((83, -13.5), (123, -13.5))
            ThreePointArc((123, -13.5), (126.181980515, -12.181980515), (127.5, -9))
            Line((127.5, -9), (127.5, 9))
            ThreePointArc((127.5, 9), (126.181980515, 12.181980515), (123, 13.5))
            Line((123, 13.5), (83, 13.5))
            ThreePointArc((83, 13.5), (79.818019485, 12.181980515), (78.5, 9))
            Line((78.5, 9), (78.5, -9))
            ThreePointArc((78.5, -9), (79.818019485, -12.181980515), (83, -13.5))
        make_face(mode=Mode.SUBTRACT)
    # profile 4 of 6: a face of its own
    with BuildSketch(Plane(origin=(0, 0, 0), x_dir=(1, 0, 0), z_dir=(0, 1, 0))):
        with BuildLine():
            Line((146, -15), (196, -15))
            ThreePointArc((196, -15), (200.242640687, -13.242640687), (202, -9))
            Line((202, -9), (202, 9))
            ThreePointArc((202, 9), (200.242640687, 13.242640687), (196, 15))
            Line((196, 15), (146, 15))
            ThreePointArc((146, 15), (141.757359313, 13.242640687), (140, 9))
            Line((140, 9), (140, -9))
            ThreePointArc((140, -9), (141.757359313, -13.242640687), (146, -15))
        make_face()
        with BuildLine():
            Line((146, -13.5), (196, -13.5))
            ThreePointArc((196, -13.5), (199.181980515, -12.181980515), (200.5, -9))
            Line((200.5, -9), (200.5, 9))
            ThreePointArc((200.5, 9), (199.181980515, 12.181980515), (196, 13.5))
            Line((196, 13.5), (146, 13.5))
            ThreePointArc((146, 13.5), (142.818019485, 12.181980515), (141.5, 9))
            Line((141.5, 9), (141.5, -9))
            ThreePointArc((141.5, -9), (142.818019485, -12.181980515), (146, -13.5))
        make_face(mode=Mode.SUBTRACT)
    # profile 5 of 6: a face of its own
    with BuildSketch(Plane(origin=(0, 0, 0), x_dir=(1, 0, 0), z_dir=(0, 1, 0))):
        with BuildLine():
            Line((-92, -15), (-49, -15))
            ThreePointArc((-49, -15), (-44.757359313, -13.242640687), (-43, -9))
            Line((-43, -9), (-43, 9))
            ThreePointArc((-43, 9), (-44.757359313, 13.242640687), (-49, 15))
            Line((-49, 15), (-92, 15))
            ThreePointArc((-92, 15), (-96.242640687, 13.242640687), (-98, 9))
            Line((-98, 9), (-98, -9))
            ThreePointArc((-98, -9), (-96.242640687, -13.242640687), (-92, -15))
        make_face()
        with BuildLine():
            Line((-92, -13.5), (-49, -13.5))
            ThreePointArc((-49, -13.5), (-45.818019485, -12.181980515), (-44.5, -9))
            Line((-44.5, -9), (-44.5, 9))
            ThreePointArc((-44.5, 9), (-45.818019485, 12.181980515), (-49, 13.5))
            Line((-49, 13.5), (-92, 13.5))
            ThreePointArc((-92, 13.5), (-95.181980515, 12.181980515), (-96.5, 9))
            Line((-96.5, 9), (-96.5, -9))
            ThreePointArc((-96.5, -9), (-95.181980515, -12.181980515), (-92, -13.5))
        make_face(mode=Mode.SUBTRACT)
    # profile 6 of 6: a face of its own
    with BuildSketch(Plane(origin=(0, 0, 0), x_dir=(1, 0, 0), z_dir=(0, 1, 0))):
        with BuildLine():
            Line((-197, -15), (-169, -15))
            ThreePointArc((-169, -15), (-164.757359313, -13.242640687), (-163, -9))
            Line((-163, -9), (-163, 9))
            ThreePointArc((-163, 9), (-164.757359313, 13.242640687), (-169, 15))
            Line((-169, 15), (-197, 15))
            ThreePointArc((-197, 15), (-201.242640687, 13.242640687), (-203, 9))
            Line((-203, 9), (-203, -9))
            ThreePointArc((-203, -9), (-201.242640687, -13.242640687), (-197, -15))
        make_face()
        with BuildLine():
            Line((-197, -13.5), (-169, -13.5))
            ThreePointArc((-169, -13.5), (-165.818019485, -12.181980515), (-164.5, -9))
            Line((-164.5, -9), (-164.5, 9))
            ThreePointArc((-164.5, 9), (-165.818019485, 12.181980515), (-169, 13.5))
            Line((-169, 13.5), (-197, 13.5))
            ThreePointArc((-197, 13.5), (-200.181980515, 12.181980515), (-201.5, 9))
            Line((-201.5, 9), (-201.5, -9))
            ThreePointArc((-201.5, -9), (-200.181980515, -12.181980515), (-197, -13.5))
        make_face(mode=Mode.SUBTRACT)
    extrude(amount=-EXTRUDE_2_DEPTH)

    # Эскиз2<5> → Вырез-Вытянуть3 (cut)
    with BuildSketch(Plane(origin=(0, 0, 0), x_dir=(1, 0, 0), z_dir=(0, 1, 0))):
        with Locations(Location((-13, 0, 0), (0, 0, 270))):
            Circle(SKETCH_2_5_R)
        with Locations(Location((17, 0, 0), (0, 0, 270))):
            Circle(SKETCH_2_5_R)
        with Locations(Location((47, 0, 0), (0, 0, 270))):
            Circle(SKETCH_2_5_R)
        with Locations(Location((-118, 0, 0), (0, 0, 270))):
            Circle(SKETCH_2_5_R)
        with Locations(Location((-58, 0, 0), (0, 0, 270))):
            Circle(SKETCH_2_5_R)
    extrude(amount=CUT_EXTRUDE_3_DEPTH, mode=Mode.SUBTRACT)


solid = part.part
